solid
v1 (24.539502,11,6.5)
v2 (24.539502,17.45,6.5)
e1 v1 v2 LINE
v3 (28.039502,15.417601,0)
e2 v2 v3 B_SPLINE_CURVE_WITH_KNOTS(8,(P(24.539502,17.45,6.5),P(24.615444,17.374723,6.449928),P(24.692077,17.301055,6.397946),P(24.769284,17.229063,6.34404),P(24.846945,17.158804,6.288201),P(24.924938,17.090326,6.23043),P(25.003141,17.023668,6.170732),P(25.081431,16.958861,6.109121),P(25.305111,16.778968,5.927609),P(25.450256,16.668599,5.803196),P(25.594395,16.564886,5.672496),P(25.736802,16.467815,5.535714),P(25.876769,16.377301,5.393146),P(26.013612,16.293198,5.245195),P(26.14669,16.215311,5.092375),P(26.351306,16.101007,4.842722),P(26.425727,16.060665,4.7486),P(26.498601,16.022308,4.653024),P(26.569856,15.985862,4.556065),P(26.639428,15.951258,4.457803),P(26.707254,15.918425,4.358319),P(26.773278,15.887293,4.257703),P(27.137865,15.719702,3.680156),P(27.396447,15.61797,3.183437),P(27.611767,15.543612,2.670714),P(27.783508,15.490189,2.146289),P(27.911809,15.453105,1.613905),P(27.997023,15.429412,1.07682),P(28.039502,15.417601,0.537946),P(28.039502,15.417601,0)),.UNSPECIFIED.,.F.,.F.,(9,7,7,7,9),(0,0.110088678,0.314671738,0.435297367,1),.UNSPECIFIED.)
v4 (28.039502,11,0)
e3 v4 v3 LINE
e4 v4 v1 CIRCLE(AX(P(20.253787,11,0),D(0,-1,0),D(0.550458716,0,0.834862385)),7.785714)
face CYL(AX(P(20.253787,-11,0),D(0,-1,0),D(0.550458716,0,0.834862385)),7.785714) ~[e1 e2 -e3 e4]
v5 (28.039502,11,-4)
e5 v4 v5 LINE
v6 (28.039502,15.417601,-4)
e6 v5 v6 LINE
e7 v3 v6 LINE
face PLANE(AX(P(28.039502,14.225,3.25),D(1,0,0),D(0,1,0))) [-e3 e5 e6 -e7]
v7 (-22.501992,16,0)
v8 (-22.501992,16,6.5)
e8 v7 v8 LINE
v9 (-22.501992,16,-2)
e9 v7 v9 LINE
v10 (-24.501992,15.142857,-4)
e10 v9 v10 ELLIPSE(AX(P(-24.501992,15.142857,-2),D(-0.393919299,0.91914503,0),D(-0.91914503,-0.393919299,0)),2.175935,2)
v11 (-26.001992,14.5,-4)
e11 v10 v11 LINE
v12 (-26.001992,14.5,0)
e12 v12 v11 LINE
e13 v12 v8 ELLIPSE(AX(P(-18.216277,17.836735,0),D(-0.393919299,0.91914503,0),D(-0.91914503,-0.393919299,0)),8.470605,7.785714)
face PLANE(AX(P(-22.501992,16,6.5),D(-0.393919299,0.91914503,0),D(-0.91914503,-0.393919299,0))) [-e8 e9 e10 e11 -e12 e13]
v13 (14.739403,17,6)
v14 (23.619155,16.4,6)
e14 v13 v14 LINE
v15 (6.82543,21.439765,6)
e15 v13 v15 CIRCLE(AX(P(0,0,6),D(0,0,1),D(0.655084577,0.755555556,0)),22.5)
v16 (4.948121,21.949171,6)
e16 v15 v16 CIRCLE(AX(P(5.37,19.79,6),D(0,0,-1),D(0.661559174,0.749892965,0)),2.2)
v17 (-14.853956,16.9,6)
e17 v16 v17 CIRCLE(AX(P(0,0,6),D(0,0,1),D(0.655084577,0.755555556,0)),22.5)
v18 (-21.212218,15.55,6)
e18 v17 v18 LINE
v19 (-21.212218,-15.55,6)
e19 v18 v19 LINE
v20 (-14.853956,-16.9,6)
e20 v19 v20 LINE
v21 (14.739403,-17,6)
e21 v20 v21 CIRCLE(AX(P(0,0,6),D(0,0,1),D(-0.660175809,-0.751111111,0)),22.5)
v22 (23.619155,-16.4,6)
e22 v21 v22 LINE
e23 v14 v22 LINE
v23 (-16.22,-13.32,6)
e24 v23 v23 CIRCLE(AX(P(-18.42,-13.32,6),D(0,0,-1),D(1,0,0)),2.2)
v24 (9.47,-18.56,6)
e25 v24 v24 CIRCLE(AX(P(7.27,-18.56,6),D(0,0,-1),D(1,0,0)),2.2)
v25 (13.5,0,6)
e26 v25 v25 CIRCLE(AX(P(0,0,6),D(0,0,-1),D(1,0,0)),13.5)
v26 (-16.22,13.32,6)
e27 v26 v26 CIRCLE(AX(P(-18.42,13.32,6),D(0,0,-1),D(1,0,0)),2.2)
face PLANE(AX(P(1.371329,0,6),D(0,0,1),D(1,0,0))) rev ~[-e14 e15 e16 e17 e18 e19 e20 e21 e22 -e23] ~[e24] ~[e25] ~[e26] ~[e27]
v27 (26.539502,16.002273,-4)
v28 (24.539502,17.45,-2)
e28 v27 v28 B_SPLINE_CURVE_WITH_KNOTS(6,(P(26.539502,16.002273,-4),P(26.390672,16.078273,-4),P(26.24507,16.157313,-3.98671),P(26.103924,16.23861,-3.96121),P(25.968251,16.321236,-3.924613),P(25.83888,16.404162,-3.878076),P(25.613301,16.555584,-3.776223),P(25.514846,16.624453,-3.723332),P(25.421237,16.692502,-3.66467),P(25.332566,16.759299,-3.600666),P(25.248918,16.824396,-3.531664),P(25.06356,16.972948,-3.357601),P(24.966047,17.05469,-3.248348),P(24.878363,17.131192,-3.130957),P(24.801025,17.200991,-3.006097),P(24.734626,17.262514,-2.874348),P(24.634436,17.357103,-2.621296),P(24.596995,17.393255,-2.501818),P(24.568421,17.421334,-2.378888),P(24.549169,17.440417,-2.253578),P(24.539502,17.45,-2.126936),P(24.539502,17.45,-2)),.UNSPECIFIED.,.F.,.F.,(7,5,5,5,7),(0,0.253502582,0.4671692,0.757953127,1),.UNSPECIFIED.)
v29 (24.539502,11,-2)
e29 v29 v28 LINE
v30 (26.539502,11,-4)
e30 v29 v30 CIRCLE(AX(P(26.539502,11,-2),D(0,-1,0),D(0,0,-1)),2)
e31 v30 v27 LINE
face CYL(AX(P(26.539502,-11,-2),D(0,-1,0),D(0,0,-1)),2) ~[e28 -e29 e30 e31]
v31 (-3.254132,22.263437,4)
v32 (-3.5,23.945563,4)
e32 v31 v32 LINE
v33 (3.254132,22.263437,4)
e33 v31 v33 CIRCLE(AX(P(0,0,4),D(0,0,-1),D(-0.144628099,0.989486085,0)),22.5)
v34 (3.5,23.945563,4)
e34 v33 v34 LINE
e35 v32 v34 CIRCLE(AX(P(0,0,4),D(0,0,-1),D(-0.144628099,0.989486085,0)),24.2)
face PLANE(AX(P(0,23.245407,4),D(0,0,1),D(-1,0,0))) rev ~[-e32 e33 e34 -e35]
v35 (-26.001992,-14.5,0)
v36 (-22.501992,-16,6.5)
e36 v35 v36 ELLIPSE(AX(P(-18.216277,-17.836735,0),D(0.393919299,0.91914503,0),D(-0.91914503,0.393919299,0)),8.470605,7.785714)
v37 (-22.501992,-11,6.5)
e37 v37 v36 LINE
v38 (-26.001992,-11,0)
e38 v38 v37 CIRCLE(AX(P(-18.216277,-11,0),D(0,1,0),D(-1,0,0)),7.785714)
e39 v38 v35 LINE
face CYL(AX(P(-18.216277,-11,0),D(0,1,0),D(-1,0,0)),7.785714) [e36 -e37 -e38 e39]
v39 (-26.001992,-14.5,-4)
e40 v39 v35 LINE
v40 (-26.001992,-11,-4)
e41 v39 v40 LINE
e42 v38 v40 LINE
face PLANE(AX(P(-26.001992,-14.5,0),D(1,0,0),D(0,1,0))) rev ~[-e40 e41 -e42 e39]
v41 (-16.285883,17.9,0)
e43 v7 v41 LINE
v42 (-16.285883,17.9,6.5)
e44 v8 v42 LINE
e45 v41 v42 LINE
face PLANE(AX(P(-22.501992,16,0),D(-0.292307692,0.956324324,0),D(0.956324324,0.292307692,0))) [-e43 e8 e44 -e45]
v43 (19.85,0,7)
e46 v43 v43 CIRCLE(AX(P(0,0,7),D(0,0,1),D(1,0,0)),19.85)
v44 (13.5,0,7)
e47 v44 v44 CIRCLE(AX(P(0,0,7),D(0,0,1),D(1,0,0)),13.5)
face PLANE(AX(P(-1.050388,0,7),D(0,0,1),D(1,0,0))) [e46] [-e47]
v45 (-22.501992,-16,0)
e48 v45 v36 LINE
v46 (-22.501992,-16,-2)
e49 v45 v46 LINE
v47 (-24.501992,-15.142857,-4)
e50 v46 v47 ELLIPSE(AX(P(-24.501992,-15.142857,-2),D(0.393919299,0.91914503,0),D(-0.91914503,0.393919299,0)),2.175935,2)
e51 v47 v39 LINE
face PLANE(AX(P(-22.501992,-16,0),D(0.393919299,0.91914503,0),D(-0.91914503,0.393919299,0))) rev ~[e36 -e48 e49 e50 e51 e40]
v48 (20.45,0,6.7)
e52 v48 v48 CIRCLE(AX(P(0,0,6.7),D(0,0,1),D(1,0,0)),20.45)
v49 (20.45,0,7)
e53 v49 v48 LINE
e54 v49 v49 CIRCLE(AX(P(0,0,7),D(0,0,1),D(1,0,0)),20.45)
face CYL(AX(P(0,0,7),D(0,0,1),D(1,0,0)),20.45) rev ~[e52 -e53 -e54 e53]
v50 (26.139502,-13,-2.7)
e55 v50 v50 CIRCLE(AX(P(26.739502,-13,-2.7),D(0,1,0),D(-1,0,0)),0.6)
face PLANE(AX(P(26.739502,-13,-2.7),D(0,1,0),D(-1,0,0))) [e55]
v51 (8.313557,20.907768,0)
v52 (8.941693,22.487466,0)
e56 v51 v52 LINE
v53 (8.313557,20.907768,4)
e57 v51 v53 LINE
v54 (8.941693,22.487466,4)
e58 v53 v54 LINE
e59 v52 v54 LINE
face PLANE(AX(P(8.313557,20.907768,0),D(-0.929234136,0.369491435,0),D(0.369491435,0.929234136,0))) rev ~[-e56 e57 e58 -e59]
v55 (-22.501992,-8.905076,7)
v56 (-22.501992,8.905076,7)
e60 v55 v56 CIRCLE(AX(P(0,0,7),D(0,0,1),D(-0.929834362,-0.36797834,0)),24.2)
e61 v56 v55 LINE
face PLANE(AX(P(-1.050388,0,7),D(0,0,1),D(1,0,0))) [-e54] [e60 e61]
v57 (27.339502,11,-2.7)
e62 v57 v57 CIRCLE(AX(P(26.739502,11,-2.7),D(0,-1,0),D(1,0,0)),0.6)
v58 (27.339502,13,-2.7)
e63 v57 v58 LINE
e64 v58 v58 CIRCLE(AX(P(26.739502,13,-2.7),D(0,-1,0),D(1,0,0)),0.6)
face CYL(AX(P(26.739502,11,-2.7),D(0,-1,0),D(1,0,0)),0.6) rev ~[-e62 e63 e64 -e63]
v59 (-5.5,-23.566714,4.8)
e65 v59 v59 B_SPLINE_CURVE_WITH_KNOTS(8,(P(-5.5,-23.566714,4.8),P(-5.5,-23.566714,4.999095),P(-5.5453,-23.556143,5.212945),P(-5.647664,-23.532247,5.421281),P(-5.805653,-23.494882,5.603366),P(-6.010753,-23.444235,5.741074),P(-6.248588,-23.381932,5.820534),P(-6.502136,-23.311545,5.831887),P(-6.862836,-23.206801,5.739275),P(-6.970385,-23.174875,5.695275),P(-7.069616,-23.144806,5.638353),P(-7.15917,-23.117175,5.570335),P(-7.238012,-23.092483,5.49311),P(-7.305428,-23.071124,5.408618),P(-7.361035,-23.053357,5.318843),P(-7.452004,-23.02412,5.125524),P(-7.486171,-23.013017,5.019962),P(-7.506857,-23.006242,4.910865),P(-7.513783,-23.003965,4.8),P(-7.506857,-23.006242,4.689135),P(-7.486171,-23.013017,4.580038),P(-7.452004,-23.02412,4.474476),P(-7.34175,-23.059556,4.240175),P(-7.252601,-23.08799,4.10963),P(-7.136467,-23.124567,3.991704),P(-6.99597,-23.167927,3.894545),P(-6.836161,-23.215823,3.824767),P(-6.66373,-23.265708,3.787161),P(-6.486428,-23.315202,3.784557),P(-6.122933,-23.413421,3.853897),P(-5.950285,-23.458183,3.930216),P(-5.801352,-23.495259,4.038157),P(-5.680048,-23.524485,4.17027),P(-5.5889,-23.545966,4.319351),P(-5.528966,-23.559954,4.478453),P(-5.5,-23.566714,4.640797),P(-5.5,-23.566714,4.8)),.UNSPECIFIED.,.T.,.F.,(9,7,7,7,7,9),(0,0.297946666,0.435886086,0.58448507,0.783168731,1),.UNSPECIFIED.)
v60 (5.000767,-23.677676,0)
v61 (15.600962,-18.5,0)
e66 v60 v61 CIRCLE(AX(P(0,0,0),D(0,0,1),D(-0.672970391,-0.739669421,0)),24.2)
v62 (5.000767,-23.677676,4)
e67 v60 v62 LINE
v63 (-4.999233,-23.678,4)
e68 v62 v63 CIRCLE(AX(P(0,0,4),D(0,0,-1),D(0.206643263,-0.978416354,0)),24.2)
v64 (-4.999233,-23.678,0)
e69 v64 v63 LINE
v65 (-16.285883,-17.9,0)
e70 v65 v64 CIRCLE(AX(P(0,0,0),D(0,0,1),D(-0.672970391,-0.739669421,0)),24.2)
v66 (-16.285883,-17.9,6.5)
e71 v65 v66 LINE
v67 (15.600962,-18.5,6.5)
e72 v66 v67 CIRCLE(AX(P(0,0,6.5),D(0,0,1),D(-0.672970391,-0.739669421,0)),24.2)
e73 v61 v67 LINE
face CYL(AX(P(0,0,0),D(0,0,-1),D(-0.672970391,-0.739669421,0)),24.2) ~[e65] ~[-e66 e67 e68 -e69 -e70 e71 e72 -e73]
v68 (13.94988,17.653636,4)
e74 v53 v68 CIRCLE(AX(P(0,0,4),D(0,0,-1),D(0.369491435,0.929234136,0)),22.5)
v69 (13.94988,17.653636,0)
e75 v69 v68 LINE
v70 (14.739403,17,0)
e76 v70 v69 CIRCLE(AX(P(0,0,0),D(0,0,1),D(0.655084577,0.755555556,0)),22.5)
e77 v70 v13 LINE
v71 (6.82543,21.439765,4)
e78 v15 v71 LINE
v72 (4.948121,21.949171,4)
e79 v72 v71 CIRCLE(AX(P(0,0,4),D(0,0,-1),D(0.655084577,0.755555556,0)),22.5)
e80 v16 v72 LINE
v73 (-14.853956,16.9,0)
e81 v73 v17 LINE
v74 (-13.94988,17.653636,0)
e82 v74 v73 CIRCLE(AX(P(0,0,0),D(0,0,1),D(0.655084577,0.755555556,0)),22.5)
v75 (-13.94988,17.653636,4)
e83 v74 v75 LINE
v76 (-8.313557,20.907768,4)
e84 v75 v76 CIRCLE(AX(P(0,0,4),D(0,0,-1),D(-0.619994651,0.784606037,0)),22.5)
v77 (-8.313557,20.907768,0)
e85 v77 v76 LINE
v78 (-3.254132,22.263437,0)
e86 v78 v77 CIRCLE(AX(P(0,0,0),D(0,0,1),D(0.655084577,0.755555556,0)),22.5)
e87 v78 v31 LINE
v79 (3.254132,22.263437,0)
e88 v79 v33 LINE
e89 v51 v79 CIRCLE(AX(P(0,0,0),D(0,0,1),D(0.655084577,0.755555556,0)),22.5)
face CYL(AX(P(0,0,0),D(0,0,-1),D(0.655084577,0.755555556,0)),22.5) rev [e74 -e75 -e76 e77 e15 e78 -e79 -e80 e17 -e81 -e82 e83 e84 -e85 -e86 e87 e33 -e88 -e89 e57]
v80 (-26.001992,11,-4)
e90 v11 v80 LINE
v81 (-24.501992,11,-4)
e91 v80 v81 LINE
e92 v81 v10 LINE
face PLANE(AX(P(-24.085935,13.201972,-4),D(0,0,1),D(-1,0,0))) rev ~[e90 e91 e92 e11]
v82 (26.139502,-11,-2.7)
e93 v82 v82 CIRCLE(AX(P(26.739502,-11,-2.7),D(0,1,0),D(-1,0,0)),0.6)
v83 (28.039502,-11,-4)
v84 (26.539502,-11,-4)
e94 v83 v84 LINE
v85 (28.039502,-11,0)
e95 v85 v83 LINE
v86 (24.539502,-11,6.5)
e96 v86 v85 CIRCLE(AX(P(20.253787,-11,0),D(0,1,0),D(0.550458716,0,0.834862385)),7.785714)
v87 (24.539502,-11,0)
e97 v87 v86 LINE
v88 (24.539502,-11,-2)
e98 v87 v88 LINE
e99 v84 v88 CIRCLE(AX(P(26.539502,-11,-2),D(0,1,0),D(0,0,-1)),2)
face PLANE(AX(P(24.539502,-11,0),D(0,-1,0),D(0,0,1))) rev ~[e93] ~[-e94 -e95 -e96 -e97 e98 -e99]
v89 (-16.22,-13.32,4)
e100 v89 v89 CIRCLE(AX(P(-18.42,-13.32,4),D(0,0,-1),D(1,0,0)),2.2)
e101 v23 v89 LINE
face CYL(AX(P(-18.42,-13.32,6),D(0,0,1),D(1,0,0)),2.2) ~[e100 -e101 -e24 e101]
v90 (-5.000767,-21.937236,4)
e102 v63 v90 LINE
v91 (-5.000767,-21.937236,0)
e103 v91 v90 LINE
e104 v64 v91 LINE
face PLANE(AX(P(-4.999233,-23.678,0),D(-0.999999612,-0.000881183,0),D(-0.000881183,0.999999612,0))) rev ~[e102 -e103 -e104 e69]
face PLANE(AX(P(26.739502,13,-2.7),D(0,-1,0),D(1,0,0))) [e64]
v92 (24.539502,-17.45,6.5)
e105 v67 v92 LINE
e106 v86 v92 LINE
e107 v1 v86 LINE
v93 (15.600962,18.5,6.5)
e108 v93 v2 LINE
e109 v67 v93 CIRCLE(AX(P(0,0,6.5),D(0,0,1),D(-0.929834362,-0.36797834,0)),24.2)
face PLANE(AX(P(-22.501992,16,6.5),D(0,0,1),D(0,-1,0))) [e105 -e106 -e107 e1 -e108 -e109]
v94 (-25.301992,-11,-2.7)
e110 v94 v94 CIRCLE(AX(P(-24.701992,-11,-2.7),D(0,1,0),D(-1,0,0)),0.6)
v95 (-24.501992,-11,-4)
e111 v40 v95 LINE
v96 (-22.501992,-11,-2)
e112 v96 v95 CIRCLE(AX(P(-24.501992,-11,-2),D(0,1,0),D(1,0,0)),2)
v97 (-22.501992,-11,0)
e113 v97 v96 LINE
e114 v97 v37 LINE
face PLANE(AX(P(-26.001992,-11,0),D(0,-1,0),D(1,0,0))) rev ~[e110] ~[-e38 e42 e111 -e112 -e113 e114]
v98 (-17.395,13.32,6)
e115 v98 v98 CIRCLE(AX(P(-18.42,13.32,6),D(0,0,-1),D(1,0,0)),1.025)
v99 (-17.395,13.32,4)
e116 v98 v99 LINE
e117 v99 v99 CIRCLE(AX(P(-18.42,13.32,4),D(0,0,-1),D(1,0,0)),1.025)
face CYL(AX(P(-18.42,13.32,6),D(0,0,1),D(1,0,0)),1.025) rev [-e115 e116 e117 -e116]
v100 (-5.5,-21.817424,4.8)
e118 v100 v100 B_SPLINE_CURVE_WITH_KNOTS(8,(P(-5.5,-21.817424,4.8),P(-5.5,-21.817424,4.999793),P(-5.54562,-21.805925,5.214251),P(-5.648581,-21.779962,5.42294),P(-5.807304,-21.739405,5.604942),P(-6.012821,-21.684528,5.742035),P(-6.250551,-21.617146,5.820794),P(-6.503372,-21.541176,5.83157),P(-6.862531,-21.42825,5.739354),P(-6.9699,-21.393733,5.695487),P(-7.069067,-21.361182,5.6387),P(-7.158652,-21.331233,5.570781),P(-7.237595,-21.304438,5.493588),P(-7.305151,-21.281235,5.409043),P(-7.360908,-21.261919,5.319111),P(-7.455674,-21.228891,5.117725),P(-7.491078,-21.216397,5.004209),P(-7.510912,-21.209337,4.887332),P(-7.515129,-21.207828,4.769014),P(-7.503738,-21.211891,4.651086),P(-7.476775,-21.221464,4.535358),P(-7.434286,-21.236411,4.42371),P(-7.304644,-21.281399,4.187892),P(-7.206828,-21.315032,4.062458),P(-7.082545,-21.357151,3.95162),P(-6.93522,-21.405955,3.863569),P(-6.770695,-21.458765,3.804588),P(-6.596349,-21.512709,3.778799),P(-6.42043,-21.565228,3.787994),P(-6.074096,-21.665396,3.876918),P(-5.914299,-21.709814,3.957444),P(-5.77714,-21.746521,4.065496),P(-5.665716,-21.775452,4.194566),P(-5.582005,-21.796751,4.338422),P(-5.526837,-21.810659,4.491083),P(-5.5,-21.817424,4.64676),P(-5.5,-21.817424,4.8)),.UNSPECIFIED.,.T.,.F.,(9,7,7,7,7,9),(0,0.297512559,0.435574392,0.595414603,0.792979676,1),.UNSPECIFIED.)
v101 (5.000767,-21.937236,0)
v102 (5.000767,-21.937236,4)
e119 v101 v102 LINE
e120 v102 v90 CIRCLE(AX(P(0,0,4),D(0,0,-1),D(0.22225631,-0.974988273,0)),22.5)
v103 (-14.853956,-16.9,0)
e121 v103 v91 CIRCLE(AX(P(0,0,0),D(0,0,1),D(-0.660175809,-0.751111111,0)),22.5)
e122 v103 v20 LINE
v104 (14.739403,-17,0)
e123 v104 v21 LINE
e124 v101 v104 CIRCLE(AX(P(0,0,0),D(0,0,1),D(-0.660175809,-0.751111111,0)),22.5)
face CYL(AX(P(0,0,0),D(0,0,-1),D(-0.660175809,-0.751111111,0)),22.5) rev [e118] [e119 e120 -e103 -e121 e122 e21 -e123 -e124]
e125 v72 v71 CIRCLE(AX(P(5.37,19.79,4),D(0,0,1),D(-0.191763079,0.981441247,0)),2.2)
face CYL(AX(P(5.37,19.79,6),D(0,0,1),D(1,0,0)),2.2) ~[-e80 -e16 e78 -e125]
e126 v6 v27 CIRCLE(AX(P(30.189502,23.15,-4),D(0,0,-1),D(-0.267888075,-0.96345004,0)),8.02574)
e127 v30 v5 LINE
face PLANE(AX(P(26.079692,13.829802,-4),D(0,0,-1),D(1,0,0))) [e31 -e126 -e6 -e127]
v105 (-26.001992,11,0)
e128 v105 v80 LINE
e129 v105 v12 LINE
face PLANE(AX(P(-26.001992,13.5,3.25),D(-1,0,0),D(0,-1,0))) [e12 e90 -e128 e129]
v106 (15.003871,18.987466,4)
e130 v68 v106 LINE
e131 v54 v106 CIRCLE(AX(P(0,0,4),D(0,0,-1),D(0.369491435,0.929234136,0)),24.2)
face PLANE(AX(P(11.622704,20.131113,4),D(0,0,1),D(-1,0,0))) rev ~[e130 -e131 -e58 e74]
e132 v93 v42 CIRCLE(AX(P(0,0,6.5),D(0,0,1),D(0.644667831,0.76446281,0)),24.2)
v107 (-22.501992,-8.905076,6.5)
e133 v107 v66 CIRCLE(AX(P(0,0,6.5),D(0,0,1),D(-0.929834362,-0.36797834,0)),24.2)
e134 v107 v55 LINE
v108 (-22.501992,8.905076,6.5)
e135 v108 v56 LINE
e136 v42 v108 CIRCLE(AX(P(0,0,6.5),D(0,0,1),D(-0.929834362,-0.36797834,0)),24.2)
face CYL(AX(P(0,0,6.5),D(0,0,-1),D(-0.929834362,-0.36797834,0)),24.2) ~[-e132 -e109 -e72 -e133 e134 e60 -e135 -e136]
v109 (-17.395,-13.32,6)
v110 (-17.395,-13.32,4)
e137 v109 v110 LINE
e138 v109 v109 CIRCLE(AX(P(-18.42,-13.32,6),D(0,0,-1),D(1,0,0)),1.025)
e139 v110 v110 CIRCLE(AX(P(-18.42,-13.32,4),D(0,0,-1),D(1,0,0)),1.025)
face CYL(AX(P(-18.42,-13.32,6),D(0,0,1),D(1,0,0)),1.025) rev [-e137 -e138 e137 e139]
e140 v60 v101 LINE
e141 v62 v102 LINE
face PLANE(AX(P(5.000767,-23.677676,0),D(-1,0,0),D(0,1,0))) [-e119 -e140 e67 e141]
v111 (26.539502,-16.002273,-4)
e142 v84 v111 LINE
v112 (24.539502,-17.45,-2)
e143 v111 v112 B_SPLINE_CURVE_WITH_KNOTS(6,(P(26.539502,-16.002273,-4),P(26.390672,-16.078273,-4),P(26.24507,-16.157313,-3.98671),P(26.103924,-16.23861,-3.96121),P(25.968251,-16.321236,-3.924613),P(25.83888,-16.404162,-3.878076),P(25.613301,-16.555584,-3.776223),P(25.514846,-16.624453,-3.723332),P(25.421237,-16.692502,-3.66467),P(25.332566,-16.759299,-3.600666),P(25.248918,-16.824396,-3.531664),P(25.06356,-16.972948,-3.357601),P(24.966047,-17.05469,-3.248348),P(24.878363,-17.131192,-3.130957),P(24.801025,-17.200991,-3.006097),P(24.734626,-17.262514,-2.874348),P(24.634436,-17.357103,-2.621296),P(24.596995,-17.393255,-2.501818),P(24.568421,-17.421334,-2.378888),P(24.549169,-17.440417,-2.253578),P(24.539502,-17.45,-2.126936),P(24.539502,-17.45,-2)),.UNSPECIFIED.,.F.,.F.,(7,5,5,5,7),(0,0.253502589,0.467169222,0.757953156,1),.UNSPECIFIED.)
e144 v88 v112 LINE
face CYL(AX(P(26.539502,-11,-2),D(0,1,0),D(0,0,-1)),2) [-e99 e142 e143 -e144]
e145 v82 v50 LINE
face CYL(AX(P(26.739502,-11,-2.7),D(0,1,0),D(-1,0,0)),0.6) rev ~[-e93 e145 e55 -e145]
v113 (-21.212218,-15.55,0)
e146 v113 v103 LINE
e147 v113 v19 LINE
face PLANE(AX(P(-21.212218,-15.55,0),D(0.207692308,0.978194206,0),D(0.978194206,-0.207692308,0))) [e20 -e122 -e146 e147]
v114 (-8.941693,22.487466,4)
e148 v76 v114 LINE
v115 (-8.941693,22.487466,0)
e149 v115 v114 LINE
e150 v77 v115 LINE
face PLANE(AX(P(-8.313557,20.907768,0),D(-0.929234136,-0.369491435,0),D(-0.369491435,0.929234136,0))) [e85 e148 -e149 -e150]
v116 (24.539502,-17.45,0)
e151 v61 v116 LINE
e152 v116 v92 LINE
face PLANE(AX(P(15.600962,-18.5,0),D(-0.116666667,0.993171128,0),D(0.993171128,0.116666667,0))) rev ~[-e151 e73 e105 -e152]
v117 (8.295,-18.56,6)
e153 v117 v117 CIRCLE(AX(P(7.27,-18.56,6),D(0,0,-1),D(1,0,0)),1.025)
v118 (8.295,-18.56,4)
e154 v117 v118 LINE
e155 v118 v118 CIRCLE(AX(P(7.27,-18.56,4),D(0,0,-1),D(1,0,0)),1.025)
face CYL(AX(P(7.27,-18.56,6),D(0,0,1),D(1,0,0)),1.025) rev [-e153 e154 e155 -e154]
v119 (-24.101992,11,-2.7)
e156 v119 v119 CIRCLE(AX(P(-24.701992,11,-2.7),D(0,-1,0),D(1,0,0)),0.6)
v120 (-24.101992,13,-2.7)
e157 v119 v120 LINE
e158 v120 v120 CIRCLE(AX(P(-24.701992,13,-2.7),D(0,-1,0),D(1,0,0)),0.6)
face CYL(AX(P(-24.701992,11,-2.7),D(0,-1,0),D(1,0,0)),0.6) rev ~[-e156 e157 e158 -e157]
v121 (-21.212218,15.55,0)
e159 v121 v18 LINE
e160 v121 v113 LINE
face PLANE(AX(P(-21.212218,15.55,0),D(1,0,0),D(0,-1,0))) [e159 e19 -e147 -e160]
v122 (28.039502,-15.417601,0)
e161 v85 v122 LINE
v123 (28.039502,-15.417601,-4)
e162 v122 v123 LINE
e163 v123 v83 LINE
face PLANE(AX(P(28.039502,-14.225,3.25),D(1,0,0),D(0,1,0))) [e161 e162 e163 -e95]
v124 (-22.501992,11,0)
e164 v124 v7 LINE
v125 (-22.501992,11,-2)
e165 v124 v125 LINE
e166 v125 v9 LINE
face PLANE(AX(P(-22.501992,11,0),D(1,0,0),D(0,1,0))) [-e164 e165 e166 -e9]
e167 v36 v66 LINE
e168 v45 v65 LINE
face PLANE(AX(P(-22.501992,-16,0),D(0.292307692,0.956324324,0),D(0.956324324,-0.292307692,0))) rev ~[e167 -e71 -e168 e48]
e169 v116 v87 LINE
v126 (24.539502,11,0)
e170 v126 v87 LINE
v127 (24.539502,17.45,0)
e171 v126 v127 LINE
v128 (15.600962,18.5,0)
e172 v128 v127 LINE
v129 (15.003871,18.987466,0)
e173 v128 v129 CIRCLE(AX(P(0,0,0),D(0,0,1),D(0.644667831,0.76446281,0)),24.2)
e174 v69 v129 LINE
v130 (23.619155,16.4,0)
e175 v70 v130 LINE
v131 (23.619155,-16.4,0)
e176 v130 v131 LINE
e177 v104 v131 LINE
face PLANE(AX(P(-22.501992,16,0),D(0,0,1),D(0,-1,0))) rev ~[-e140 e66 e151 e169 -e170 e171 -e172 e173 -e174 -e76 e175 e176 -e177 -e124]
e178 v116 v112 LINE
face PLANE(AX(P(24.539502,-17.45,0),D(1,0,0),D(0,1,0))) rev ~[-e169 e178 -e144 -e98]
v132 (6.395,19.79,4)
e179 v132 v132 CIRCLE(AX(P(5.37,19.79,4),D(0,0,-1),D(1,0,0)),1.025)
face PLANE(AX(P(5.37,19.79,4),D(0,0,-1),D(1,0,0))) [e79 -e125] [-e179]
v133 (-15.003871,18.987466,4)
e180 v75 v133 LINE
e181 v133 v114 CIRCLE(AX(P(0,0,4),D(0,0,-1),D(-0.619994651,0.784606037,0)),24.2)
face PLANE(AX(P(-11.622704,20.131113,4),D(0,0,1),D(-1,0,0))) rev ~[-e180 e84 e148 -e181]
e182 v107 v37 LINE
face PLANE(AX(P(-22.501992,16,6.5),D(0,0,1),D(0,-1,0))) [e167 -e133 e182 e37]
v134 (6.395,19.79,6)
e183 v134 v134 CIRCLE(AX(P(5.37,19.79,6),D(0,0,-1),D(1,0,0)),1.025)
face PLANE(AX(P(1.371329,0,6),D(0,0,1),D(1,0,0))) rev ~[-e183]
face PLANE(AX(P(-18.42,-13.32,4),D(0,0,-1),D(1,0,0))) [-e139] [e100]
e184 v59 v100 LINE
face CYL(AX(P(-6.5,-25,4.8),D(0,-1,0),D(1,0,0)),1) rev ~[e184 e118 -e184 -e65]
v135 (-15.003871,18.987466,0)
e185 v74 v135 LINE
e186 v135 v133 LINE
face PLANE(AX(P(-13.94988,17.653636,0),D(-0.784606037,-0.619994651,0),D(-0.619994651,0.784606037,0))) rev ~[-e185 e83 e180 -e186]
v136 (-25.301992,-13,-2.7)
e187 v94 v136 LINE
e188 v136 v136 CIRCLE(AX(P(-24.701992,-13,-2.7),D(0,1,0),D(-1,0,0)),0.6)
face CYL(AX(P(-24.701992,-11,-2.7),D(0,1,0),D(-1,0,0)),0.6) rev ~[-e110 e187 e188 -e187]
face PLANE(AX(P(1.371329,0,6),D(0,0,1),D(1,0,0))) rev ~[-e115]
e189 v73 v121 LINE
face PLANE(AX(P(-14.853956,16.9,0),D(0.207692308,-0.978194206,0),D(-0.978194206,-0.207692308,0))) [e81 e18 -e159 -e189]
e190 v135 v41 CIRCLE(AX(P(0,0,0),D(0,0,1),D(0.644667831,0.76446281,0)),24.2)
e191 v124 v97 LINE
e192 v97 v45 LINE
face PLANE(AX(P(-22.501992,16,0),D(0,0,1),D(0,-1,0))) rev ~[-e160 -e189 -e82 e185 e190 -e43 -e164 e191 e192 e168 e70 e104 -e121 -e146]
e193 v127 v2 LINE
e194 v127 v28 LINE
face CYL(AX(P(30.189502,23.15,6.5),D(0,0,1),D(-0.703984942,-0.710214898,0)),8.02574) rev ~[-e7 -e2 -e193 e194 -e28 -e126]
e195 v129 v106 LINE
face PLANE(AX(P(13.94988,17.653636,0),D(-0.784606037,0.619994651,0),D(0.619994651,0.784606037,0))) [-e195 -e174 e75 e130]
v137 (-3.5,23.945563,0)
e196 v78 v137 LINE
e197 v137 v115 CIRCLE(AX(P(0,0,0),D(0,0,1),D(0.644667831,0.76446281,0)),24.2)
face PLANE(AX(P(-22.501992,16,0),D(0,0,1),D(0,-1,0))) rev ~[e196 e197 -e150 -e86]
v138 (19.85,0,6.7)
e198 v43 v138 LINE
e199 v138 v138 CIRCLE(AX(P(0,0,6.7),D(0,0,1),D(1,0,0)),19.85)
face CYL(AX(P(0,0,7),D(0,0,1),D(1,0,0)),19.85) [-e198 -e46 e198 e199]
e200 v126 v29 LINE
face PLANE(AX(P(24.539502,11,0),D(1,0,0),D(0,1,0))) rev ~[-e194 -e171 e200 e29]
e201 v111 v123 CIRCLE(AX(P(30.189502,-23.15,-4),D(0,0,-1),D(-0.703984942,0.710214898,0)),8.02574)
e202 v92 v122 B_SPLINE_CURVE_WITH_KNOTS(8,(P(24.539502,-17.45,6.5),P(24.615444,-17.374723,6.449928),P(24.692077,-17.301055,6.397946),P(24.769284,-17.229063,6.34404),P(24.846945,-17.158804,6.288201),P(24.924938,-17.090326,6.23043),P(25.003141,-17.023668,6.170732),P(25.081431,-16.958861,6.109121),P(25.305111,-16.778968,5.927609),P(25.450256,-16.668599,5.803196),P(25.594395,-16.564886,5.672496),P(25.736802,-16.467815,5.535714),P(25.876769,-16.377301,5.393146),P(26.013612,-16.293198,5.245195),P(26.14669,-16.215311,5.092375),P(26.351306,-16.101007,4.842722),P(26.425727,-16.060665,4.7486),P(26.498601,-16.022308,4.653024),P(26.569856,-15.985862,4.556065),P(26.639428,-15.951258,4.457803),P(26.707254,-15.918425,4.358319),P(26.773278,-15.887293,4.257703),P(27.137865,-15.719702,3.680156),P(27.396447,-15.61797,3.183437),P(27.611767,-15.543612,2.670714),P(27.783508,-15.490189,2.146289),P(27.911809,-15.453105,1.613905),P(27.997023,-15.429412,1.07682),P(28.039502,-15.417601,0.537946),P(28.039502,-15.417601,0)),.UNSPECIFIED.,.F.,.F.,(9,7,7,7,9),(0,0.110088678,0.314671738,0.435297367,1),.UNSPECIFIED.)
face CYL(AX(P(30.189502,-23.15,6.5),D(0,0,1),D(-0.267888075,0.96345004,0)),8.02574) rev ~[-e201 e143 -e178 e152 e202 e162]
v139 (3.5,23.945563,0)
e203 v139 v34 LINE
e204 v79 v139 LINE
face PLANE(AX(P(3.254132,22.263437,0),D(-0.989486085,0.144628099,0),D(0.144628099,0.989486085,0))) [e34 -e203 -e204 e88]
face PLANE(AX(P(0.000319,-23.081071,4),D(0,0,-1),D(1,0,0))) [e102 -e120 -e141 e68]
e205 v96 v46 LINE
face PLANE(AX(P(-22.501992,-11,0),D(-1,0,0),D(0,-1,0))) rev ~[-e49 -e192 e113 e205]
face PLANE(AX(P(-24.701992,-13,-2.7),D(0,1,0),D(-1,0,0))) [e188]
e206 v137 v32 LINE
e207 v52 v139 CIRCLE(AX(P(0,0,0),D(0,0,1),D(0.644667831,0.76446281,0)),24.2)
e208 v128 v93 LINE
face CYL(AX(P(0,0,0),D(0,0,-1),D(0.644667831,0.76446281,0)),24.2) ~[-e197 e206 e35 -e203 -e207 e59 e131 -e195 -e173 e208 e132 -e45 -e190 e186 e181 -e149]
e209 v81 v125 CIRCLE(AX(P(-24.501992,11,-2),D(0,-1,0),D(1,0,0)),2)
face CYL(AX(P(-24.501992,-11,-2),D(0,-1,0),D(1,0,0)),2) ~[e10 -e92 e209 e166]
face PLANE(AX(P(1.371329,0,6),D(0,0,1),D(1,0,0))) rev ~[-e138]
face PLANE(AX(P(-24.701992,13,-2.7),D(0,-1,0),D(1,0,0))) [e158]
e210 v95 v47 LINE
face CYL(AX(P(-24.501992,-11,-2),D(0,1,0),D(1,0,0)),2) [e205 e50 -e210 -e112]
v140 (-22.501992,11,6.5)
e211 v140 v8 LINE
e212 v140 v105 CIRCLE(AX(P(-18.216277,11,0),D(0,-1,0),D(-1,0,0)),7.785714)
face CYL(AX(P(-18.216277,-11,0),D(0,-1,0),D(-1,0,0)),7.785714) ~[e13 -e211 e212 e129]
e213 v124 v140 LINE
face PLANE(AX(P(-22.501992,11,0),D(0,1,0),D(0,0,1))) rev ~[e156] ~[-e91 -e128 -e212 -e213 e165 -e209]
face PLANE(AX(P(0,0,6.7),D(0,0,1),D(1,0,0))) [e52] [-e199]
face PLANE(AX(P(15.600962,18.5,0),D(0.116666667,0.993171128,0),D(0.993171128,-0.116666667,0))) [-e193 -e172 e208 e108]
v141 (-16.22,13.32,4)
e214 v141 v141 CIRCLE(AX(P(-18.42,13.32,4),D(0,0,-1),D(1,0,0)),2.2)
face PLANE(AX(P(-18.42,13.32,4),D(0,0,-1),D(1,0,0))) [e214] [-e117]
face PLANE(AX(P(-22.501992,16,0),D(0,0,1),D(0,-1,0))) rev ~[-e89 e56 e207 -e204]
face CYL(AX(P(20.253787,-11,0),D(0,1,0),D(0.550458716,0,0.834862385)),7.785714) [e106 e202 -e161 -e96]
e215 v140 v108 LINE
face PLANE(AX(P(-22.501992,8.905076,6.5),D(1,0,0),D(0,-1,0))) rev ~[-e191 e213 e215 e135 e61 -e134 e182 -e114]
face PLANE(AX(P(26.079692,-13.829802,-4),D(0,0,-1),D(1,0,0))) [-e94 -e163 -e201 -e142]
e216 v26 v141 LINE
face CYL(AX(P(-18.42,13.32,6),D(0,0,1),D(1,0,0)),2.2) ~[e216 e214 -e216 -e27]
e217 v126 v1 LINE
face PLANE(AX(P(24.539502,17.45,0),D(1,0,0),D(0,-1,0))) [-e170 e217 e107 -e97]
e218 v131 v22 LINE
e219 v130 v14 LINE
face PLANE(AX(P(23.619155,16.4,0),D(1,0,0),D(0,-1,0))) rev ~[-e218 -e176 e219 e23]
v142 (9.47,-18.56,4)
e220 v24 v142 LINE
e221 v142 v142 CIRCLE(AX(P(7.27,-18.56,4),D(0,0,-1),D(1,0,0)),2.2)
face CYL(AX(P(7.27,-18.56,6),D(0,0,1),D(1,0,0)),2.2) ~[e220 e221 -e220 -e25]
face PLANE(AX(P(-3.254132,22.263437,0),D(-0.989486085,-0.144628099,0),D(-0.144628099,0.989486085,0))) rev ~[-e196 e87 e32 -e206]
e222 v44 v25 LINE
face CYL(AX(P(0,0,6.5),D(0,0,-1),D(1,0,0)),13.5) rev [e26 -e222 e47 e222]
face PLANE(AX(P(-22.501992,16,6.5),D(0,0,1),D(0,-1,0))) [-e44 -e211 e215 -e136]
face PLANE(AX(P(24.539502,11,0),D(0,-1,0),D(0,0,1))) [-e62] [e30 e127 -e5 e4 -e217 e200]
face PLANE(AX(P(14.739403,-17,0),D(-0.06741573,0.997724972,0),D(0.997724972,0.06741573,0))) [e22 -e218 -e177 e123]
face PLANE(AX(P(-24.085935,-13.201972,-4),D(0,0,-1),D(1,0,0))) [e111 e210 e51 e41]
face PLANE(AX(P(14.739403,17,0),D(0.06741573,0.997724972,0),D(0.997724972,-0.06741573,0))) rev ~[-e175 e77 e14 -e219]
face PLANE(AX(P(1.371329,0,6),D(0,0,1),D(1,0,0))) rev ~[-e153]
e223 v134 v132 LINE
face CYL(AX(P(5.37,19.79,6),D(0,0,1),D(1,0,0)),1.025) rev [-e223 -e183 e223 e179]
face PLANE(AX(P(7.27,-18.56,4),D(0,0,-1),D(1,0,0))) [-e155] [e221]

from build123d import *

# Parameters (mm, degrees)
PAD_DEPTH            = 6.5
POCKET_DEPTH         = 6
SKETCH002_R          = 13.5
POCKET001_DEPTH      = 1
SKETCH003_W          = 6.45
SKETCH003_H          = 6.5
PAD001_DEPTH         = 3.5
POCKET002_DEPTH      = 10
SKETCH010_W          = 5
SKETCH010_H          = 6.5
PAD002_DEPTH         = 3.5
POCKET005_DEPTH      = 10
SKETCH015_R          = 2.2
SKETCH015_R_2        = 1.025
PAD003_DEPTH         = 2
POCKET009_DEPTH      = 4
POCKET010_DEPTH      = 4
PAD004_DEPTH         = 4
POCKET013_DEPTH      = 13.201
POCKET013_DEPTH_BACK = 35.201
SKETCH022_R          = 0.6
POCKET014_DEPTH      = 2
SKETCH023_R          = 0.6
POCKET015_DEPTH      = 2
SKETCH024_R          = 13.5
PAD005_DEPTH         = 0.5
SKETCH025_R          = 20.45
SKETCH025_R_2        = 19.85
POCKET016_DEPTH      = 0.3
SKETCH026_R          = 1
POCKET017_DEPTH      = 5


with BuildPart() as part:
    # Sketch → Pad (new body)
    with BuildSketch(Plane.XY):
        with BuildLine():
            Line((-22.5019915649, 16), (-22.5019915649, -16))
            Line((-22.5019915649, -16), (-16.2858834578, -17.9))
            ThreePointArc((-16.2858834578, -17.9), (-0.4552796053, -24.1957169863), (15.6009615088, -18.5))
            Line((15.6009615088, -18.5), (24.5395016581, -17.45))
            Line((24.5395016581, 17.45), (24.5395016581, -17.45))
            Line((15.6009615088, 18.5), (24.5395016581, 17.45))
            ThreePointArc((15.6009615088, 18.5), (-0.4552796053, 24.1957169863), (-16.2858834578, 17.9))
            Line((-22.5019915649, 16), (-16.2858834578, 17.9))
        make_face()
    extrude(amount=PAD_DEPTH)

    # Sketch001 → Pocket (cut)
    with BuildSketch(Plane.XY):
        with BuildLine():
            Line((-14.8539557021, 16.9), (-21.2122180433, 15.55))
            Line((-21.2122180433, 15.55), (-21.2122180433, -15.55))
            Line((-21.2122180433, -15.55), (-14.8539557021, -16.9))
            ThreePointArc((-14.8539557021, -16.9), (-0.0760301383, -22.4998715423), (14.739402973, -17))
            Line((14.739402973, -17), (23.6191552218, -16.4))
            Line((23.6191552218, 16.4), (23.6191552218, -16.4))
            Line((14.739402973, 17), (23.6191552218, 16.4))
            ThreePointArc((14.739402973, 17), (-0.0760301383, 22.4998715423), (-14.8539557021, 16.9))
        make_face()
    extrude(amount=POCKET_DEPTH, mode=Mode.SUBTRACT)

    # Sketch002 (on Face19 of Pocket) → Pocket001 (cut)
    with BuildSketch(Plane(origin=(0, 0, 6), x_dir=(1, 0, 0), z_dir=(0, 0, -1))):
        Circle(SKETCH002_R)
    extrude(amount=-POCKET001_DEPTH, mode=Mode.SUBTRACT)

    # Sketch003 (on Face7 of Pad) → Pad001 (join)
    with BuildSketch(Plane.YZ.offset(24.5395016581)):
        with Locations((-14.225, 3.25)):
            Rectangle(SKETCH003_W, SKETCH003_H)
        with Locations((14.225, 3.25)):
            Rectangle(SKETCH003_W, SKETCH003_H)
    extrude(amount=PAD001_DEPTH)

    # Sketch006 (on Face22 of Pad001) → Pocket002 (cut)
    with BuildSketch(Plane.XY.offset(6.5)):
        with BuildLine():
            ThreePointArc((24.5395016581, 17.45), (26.1592830786, 16.2095505764), (28.0395016581, 15.4176006311))
            Line((28.0395016581, 17.45), (28.0395016581, 15.4176006311))
            Line((28.0395016581, 17.45), (24.5395016581, 17.45))
        make_face()
        with BuildLine():
            ThreePointArc((28.0395016581, -15.4176006311), (26.1592830786, -16.2095505765), (24.5395016581, -17.4500000001))
            Line((28.0395016581, -17.45), (24.5395016581, -17.4500000001))
            Line((28.0395016581, -15.4176006311), (28.0395016581, -17.45))
        make_face()
    extrude(amount=-POCKET002_DEPTH, mode=Mode.SUBTRACT)

    # Sketch010 (on Face3 of Pad) → Pad002 (join)
    with BuildSketch(Plane(origin=(-22.5019915649, 0, 0), x_dir=(0, -1, 0), z_dir=(-1, 0, 0))):
        with Locations((-13.5, 3.25)):
            Rectangle(SKETCH010_W, SKETCH010_H)
        with Locations((13.5, 3.25)):
            Rectangle(SKETCH010_W, SKETCH010_H)
    extrude(amount=PAD002_DEPTH)

    # Sketch011 (on Face28 of Pad002) → Pocket005 (cut)
    with BuildSketch(Plane.XY.offset(6.5)):
        Polygon((-26.0019915649, 16), (-22.5019915649, 16), (-26.0019915649, 14.5), align=None)
        Polygon((-22.5019915649, -16), (-26.0019915649, -14.5), (-26.0019915649, -16), align=None)
    extrude(amount=-POCKET005_DEPTH, mode=Mode.SUBTRACT)

    # Sketch015 (on Face19 of Pocket) → Pad003 (join)
    with BuildSketch(Plane(origin=(0, 0, 6), x_dir=(1, 0, 0), z_dir=(0, 0, -1))):
        with Locations((-18.42, 13.32)):
            Circle(SKETCH015_R)
        with Locations((-18.42, 13.32)):
            Circle(SKETCH015_R_2, mode=Mode.SUBTRACT)
        with Locations((7.27, 18.56)):
            Circle(SKETCH015_R)
        with Locations((7.27, 18.56)):
            Circle(SKETCH015_R_2, mode=Mode.SUBTRACT)
        with Locations((5.37, -19.79)):
            Circle(SKETCH015_R)
        with Locations((5.37, -19.79)):
            Circle(SKETCH015_R_2, mode=Mode.SUBTRACT)
        with Locations((-18.42, -13.32)):
            Circle(SKETCH015_R)
        with Locations((-18.42, -13.32)):
            Circle(SKETCH015_R_2, mode=Mode.SUBTRACT)
    extrude(amount=PAD003_DEPTH)

    # Sketch016 (on Face4 of Pocket) → Pocket009 (cut)
    with BuildSketch(Plane(origin=(0, 0, 0), x_dir=(1, 0, 0), z_dir=(0, 0, -1))):
        with BuildLine():
            Line((-4.9992330338, 23.6779996848), (-5.0007669662, 21.9372361465))
            ThreePointArc((5.0007669662, 21.9372361465), (0, 22.5), (-5.0007669662, 21.9372361465))
            Line((5.0007669662, 23.6776757675), (5.0007669662, 21.9372361465))
            ThreePointArc((5.0007669662, 23.6776757675), (0.00078388, 24.1999999873), (-4.9992330338, 23.6779996848))
        make_face()
    extrude(amount=-POCKET009_DEPTH, mode=Mode.SUBTRACT)

    # Sketch017 (on Face4 of Pocket) → Pocket010 (cut)
    with BuildSketch(Plane(origin=(0, 0, 0), x_dir=(1, 0, 0), z_dir=(0, 0, -1))):
        with BuildLine():
            ThreePointArc((-3.2541322314, -22.2634369184), (0, -22.5), (3.2541322314, -22.2634369184))
            Line((3.2541322314, -22.2634369184), (3.5, -23.9455632634))
            ThreePointArc((-3.5, -23.9455632634), (0, -24.2), (3.5, -23.9455632634))
            Line((-3.2541322314, -22.2634369184), (-3.5, -23.9455632634))
        make_face()
        with BuildLine():
            ThreePointArc((-13.9498796389, -17.6536358312), (-11.25, -19.4855715851), (-8.3135572795, -20.9077680626))
            Line((-8.3135572795, -20.9077680626), (-8.9416927184, -22.487466094))
            ThreePointArc((-15.0038705449, -18.987466094), (-12.1, -20.9578147716), (-8.9416927184, -22.487466094))
            Line((-13.9498796389, -17.6536358312), (-15.0038705449, -18.987466094))
        make_face()
        with BuildLine():
            ThreePointArc((8.3135572795, -20.9077680626), (11.25, -19.4855715851), (13.9498796389, -17.6536358312))
            Line((13.9498796389, -17.6536358312), (15.0038705449, -18.987466094))
            ThreePointArc((8.9416927184, -22.487466094), (12.1, -20.9578147716), (15.0038705449, -18.987466094))
            Line((8.3135572795, -20.9077680626), (8.9416927184, -22.487466094))
        make_face()
    extrude(amount=-POCKET010_DEPTH, mode=Mode.SUBTRACT)

    # Sketch018 (on Face8 of Pocket005) → Pad004 (join)
    with BuildSketch(Plane(origin=(0, 0, 0), x_dir=(1, 0, 0), z_dir=(0, 0, -1))):
        Polygon((-26.0019915649, 14.5), (-26.0019915649, 11), (-22.5019915649, 11), (-22.5019915649, 16), align=None)
        Polygon((-26.0019915649, -11), (-22.5019915649, -11), (-22.5019915649, -16), (-26.0019915649, -14.5), align=None)
        with BuildLine():
            Line((24.5395016581, 17.4500000001), (24.5395016581, 11))
            Line((28.0395016581, 11), (24.5395016581, 11))
            Line((28.0395016581, 15.4176006311), (28.0395016581, 11))
            ThreePointArc((24.5395016581, 17.4500000001), (26.1592830786, 16.2095505765), (28.0395016581, 15.4176006311))
        make_face()
        with BuildLine():
            Line((24.5395016581, -11), (24.5395016581, -17.45))
            ThreePointArc((28.0395016581, -15.4176006311), (26.1592830786, -16.2095505764), (24.5395016581, -17.45))
            Line((28.0395016581, -11), (28.0395016581, -15.4176006311))
            Line((24.5395016581, -11), (28.0395016581, -11))
        make_face()
    extrude(amount=PAD004_DEPTH)

    # Sketch021 (on Face50 of Pad004) → Pocket013 (cut, two sides)
    with BuildSketch(Plane(origin=(0, -11, 0), x_dir=(-1, 0, 0), z_dir=(0, 1, 0))) as pocket013_sk:
        with BuildLine():
            Line((-24.5395016581, -4), (-24.5395016581, -2))
            ThreePointArc((-26.5395016581, -4), (-25.1252880957, -3.4142135624), (-24.5395016581, -2))
            Line((-24.5395016581, -4), (-26.5395016581, -4))
        make_face()
        with BuildLine():
            Line((22.5019915649, -4), (22.5019915649, -2))
            ThreePointArc((22.5019915649, -2), (23.0877780026, -3.4142135624), (24.5019915649, -4))
            Line((22.5019915649, -4), (24.5019915649, -4))
        make_face()
        with BuildLine():
            Line((-28.0395016581, 0), (-28.0395016581, 6.5))
            Line((-28.0395016581, 6.5), (-24.5395016581, 6.5))
            ThreePointArc((-24.5395016581, 6.5), (-27.1088837932, 3.6912057651), (-28.0395016581, 0))
        make_face()
        with BuildLine():
            Line((26.0019915649, 6.5), (26.0019915649, 0))
            ThreePointArc((26.0019915649, 0), (25.0713737, 3.6912057651), (22.5019915649, 6.5))
            Line((26.0019915649, 6.5), (22.5019915649, 6.5))
        make_face()
    extrude(amount=-POCKET013_DEPTH, mode=Mode.SUBTRACT)
    extrude(pocket013_sk.sketch, amount=POCKET013_DEPTH_BACK, mode=Mode.SUBTRACT)

    # Sketch022 (on Face66 of Pocket013) → Pocket014 (cut)
    with BuildSketch(Plane.XZ.offset(-11)):
        with Locations((-24.7019915649, -2.7)):
            Circle(SKETCH022_R)
        with Locations((26.7395016581, -2.7)):
            Circle(SKETCH022_R)
    extrude(amount=-POCKET014_DEPTH, mode=Mode.SUBTRACT)

    # Sketch023 (on Face49 of Pocket014) → Pocket015 (cut)
    with BuildSketch(Plane(origin=(0, -11, 0), x_dir=(-1, 0, 0), z_dir=(0, 1, 0))):
        with Locations((-26.7395016581, -2.7)):
            Circle(SKETCH023_R)
        with Locations((24.7019915649, -2.7)):
            Circle(SKETCH023_R)
    extrude(amount=-POCKET015_DEPTH, mode=Mode.SUBTRACT)

    # Sketch024 (on Face16 of Pocket015) → Pad005 (join)
    with BuildSketch(Plane.XY.offset(6.5)):
        with BuildLine():
            ThreePointArc((-22.5019915649, -8.9050758341), (24.2, 0), (-22.5019915649, 8.9050758341))
            Line((-22.5019915649, 8.9050758341), (-22.5019915649, -8.9050758341))
        make_face()
        Circle(SKETCH024_R, mode=Mode.SUBTRACT)
    extrude(amount=PAD005_DEPTH)

    # Sketch025 (on Face42 of Pad005) → Pocket016 (cut)
    with BuildSketch(Plane.XY.offset(7)):
        Circle(SKETCH025_R)
        Circle(SKETCH025_R_2, mode=Mode.SUBTRACT)
    extrude(amount=-POCKET016_DEPTH, mode=Mode.SUBTRACT)

    # Sketch026 (on DatumPlane) → Pocket017 (cut)
    with BuildSketch(Plane.XZ.offset(25)):
        with Locations((-6.5, 4.8)):
            Circle(SKETCH026_R)
    extrude(amount=-POCKET017_DEPTH, mode=Mode.SUBTRACT)


solid = part.part
